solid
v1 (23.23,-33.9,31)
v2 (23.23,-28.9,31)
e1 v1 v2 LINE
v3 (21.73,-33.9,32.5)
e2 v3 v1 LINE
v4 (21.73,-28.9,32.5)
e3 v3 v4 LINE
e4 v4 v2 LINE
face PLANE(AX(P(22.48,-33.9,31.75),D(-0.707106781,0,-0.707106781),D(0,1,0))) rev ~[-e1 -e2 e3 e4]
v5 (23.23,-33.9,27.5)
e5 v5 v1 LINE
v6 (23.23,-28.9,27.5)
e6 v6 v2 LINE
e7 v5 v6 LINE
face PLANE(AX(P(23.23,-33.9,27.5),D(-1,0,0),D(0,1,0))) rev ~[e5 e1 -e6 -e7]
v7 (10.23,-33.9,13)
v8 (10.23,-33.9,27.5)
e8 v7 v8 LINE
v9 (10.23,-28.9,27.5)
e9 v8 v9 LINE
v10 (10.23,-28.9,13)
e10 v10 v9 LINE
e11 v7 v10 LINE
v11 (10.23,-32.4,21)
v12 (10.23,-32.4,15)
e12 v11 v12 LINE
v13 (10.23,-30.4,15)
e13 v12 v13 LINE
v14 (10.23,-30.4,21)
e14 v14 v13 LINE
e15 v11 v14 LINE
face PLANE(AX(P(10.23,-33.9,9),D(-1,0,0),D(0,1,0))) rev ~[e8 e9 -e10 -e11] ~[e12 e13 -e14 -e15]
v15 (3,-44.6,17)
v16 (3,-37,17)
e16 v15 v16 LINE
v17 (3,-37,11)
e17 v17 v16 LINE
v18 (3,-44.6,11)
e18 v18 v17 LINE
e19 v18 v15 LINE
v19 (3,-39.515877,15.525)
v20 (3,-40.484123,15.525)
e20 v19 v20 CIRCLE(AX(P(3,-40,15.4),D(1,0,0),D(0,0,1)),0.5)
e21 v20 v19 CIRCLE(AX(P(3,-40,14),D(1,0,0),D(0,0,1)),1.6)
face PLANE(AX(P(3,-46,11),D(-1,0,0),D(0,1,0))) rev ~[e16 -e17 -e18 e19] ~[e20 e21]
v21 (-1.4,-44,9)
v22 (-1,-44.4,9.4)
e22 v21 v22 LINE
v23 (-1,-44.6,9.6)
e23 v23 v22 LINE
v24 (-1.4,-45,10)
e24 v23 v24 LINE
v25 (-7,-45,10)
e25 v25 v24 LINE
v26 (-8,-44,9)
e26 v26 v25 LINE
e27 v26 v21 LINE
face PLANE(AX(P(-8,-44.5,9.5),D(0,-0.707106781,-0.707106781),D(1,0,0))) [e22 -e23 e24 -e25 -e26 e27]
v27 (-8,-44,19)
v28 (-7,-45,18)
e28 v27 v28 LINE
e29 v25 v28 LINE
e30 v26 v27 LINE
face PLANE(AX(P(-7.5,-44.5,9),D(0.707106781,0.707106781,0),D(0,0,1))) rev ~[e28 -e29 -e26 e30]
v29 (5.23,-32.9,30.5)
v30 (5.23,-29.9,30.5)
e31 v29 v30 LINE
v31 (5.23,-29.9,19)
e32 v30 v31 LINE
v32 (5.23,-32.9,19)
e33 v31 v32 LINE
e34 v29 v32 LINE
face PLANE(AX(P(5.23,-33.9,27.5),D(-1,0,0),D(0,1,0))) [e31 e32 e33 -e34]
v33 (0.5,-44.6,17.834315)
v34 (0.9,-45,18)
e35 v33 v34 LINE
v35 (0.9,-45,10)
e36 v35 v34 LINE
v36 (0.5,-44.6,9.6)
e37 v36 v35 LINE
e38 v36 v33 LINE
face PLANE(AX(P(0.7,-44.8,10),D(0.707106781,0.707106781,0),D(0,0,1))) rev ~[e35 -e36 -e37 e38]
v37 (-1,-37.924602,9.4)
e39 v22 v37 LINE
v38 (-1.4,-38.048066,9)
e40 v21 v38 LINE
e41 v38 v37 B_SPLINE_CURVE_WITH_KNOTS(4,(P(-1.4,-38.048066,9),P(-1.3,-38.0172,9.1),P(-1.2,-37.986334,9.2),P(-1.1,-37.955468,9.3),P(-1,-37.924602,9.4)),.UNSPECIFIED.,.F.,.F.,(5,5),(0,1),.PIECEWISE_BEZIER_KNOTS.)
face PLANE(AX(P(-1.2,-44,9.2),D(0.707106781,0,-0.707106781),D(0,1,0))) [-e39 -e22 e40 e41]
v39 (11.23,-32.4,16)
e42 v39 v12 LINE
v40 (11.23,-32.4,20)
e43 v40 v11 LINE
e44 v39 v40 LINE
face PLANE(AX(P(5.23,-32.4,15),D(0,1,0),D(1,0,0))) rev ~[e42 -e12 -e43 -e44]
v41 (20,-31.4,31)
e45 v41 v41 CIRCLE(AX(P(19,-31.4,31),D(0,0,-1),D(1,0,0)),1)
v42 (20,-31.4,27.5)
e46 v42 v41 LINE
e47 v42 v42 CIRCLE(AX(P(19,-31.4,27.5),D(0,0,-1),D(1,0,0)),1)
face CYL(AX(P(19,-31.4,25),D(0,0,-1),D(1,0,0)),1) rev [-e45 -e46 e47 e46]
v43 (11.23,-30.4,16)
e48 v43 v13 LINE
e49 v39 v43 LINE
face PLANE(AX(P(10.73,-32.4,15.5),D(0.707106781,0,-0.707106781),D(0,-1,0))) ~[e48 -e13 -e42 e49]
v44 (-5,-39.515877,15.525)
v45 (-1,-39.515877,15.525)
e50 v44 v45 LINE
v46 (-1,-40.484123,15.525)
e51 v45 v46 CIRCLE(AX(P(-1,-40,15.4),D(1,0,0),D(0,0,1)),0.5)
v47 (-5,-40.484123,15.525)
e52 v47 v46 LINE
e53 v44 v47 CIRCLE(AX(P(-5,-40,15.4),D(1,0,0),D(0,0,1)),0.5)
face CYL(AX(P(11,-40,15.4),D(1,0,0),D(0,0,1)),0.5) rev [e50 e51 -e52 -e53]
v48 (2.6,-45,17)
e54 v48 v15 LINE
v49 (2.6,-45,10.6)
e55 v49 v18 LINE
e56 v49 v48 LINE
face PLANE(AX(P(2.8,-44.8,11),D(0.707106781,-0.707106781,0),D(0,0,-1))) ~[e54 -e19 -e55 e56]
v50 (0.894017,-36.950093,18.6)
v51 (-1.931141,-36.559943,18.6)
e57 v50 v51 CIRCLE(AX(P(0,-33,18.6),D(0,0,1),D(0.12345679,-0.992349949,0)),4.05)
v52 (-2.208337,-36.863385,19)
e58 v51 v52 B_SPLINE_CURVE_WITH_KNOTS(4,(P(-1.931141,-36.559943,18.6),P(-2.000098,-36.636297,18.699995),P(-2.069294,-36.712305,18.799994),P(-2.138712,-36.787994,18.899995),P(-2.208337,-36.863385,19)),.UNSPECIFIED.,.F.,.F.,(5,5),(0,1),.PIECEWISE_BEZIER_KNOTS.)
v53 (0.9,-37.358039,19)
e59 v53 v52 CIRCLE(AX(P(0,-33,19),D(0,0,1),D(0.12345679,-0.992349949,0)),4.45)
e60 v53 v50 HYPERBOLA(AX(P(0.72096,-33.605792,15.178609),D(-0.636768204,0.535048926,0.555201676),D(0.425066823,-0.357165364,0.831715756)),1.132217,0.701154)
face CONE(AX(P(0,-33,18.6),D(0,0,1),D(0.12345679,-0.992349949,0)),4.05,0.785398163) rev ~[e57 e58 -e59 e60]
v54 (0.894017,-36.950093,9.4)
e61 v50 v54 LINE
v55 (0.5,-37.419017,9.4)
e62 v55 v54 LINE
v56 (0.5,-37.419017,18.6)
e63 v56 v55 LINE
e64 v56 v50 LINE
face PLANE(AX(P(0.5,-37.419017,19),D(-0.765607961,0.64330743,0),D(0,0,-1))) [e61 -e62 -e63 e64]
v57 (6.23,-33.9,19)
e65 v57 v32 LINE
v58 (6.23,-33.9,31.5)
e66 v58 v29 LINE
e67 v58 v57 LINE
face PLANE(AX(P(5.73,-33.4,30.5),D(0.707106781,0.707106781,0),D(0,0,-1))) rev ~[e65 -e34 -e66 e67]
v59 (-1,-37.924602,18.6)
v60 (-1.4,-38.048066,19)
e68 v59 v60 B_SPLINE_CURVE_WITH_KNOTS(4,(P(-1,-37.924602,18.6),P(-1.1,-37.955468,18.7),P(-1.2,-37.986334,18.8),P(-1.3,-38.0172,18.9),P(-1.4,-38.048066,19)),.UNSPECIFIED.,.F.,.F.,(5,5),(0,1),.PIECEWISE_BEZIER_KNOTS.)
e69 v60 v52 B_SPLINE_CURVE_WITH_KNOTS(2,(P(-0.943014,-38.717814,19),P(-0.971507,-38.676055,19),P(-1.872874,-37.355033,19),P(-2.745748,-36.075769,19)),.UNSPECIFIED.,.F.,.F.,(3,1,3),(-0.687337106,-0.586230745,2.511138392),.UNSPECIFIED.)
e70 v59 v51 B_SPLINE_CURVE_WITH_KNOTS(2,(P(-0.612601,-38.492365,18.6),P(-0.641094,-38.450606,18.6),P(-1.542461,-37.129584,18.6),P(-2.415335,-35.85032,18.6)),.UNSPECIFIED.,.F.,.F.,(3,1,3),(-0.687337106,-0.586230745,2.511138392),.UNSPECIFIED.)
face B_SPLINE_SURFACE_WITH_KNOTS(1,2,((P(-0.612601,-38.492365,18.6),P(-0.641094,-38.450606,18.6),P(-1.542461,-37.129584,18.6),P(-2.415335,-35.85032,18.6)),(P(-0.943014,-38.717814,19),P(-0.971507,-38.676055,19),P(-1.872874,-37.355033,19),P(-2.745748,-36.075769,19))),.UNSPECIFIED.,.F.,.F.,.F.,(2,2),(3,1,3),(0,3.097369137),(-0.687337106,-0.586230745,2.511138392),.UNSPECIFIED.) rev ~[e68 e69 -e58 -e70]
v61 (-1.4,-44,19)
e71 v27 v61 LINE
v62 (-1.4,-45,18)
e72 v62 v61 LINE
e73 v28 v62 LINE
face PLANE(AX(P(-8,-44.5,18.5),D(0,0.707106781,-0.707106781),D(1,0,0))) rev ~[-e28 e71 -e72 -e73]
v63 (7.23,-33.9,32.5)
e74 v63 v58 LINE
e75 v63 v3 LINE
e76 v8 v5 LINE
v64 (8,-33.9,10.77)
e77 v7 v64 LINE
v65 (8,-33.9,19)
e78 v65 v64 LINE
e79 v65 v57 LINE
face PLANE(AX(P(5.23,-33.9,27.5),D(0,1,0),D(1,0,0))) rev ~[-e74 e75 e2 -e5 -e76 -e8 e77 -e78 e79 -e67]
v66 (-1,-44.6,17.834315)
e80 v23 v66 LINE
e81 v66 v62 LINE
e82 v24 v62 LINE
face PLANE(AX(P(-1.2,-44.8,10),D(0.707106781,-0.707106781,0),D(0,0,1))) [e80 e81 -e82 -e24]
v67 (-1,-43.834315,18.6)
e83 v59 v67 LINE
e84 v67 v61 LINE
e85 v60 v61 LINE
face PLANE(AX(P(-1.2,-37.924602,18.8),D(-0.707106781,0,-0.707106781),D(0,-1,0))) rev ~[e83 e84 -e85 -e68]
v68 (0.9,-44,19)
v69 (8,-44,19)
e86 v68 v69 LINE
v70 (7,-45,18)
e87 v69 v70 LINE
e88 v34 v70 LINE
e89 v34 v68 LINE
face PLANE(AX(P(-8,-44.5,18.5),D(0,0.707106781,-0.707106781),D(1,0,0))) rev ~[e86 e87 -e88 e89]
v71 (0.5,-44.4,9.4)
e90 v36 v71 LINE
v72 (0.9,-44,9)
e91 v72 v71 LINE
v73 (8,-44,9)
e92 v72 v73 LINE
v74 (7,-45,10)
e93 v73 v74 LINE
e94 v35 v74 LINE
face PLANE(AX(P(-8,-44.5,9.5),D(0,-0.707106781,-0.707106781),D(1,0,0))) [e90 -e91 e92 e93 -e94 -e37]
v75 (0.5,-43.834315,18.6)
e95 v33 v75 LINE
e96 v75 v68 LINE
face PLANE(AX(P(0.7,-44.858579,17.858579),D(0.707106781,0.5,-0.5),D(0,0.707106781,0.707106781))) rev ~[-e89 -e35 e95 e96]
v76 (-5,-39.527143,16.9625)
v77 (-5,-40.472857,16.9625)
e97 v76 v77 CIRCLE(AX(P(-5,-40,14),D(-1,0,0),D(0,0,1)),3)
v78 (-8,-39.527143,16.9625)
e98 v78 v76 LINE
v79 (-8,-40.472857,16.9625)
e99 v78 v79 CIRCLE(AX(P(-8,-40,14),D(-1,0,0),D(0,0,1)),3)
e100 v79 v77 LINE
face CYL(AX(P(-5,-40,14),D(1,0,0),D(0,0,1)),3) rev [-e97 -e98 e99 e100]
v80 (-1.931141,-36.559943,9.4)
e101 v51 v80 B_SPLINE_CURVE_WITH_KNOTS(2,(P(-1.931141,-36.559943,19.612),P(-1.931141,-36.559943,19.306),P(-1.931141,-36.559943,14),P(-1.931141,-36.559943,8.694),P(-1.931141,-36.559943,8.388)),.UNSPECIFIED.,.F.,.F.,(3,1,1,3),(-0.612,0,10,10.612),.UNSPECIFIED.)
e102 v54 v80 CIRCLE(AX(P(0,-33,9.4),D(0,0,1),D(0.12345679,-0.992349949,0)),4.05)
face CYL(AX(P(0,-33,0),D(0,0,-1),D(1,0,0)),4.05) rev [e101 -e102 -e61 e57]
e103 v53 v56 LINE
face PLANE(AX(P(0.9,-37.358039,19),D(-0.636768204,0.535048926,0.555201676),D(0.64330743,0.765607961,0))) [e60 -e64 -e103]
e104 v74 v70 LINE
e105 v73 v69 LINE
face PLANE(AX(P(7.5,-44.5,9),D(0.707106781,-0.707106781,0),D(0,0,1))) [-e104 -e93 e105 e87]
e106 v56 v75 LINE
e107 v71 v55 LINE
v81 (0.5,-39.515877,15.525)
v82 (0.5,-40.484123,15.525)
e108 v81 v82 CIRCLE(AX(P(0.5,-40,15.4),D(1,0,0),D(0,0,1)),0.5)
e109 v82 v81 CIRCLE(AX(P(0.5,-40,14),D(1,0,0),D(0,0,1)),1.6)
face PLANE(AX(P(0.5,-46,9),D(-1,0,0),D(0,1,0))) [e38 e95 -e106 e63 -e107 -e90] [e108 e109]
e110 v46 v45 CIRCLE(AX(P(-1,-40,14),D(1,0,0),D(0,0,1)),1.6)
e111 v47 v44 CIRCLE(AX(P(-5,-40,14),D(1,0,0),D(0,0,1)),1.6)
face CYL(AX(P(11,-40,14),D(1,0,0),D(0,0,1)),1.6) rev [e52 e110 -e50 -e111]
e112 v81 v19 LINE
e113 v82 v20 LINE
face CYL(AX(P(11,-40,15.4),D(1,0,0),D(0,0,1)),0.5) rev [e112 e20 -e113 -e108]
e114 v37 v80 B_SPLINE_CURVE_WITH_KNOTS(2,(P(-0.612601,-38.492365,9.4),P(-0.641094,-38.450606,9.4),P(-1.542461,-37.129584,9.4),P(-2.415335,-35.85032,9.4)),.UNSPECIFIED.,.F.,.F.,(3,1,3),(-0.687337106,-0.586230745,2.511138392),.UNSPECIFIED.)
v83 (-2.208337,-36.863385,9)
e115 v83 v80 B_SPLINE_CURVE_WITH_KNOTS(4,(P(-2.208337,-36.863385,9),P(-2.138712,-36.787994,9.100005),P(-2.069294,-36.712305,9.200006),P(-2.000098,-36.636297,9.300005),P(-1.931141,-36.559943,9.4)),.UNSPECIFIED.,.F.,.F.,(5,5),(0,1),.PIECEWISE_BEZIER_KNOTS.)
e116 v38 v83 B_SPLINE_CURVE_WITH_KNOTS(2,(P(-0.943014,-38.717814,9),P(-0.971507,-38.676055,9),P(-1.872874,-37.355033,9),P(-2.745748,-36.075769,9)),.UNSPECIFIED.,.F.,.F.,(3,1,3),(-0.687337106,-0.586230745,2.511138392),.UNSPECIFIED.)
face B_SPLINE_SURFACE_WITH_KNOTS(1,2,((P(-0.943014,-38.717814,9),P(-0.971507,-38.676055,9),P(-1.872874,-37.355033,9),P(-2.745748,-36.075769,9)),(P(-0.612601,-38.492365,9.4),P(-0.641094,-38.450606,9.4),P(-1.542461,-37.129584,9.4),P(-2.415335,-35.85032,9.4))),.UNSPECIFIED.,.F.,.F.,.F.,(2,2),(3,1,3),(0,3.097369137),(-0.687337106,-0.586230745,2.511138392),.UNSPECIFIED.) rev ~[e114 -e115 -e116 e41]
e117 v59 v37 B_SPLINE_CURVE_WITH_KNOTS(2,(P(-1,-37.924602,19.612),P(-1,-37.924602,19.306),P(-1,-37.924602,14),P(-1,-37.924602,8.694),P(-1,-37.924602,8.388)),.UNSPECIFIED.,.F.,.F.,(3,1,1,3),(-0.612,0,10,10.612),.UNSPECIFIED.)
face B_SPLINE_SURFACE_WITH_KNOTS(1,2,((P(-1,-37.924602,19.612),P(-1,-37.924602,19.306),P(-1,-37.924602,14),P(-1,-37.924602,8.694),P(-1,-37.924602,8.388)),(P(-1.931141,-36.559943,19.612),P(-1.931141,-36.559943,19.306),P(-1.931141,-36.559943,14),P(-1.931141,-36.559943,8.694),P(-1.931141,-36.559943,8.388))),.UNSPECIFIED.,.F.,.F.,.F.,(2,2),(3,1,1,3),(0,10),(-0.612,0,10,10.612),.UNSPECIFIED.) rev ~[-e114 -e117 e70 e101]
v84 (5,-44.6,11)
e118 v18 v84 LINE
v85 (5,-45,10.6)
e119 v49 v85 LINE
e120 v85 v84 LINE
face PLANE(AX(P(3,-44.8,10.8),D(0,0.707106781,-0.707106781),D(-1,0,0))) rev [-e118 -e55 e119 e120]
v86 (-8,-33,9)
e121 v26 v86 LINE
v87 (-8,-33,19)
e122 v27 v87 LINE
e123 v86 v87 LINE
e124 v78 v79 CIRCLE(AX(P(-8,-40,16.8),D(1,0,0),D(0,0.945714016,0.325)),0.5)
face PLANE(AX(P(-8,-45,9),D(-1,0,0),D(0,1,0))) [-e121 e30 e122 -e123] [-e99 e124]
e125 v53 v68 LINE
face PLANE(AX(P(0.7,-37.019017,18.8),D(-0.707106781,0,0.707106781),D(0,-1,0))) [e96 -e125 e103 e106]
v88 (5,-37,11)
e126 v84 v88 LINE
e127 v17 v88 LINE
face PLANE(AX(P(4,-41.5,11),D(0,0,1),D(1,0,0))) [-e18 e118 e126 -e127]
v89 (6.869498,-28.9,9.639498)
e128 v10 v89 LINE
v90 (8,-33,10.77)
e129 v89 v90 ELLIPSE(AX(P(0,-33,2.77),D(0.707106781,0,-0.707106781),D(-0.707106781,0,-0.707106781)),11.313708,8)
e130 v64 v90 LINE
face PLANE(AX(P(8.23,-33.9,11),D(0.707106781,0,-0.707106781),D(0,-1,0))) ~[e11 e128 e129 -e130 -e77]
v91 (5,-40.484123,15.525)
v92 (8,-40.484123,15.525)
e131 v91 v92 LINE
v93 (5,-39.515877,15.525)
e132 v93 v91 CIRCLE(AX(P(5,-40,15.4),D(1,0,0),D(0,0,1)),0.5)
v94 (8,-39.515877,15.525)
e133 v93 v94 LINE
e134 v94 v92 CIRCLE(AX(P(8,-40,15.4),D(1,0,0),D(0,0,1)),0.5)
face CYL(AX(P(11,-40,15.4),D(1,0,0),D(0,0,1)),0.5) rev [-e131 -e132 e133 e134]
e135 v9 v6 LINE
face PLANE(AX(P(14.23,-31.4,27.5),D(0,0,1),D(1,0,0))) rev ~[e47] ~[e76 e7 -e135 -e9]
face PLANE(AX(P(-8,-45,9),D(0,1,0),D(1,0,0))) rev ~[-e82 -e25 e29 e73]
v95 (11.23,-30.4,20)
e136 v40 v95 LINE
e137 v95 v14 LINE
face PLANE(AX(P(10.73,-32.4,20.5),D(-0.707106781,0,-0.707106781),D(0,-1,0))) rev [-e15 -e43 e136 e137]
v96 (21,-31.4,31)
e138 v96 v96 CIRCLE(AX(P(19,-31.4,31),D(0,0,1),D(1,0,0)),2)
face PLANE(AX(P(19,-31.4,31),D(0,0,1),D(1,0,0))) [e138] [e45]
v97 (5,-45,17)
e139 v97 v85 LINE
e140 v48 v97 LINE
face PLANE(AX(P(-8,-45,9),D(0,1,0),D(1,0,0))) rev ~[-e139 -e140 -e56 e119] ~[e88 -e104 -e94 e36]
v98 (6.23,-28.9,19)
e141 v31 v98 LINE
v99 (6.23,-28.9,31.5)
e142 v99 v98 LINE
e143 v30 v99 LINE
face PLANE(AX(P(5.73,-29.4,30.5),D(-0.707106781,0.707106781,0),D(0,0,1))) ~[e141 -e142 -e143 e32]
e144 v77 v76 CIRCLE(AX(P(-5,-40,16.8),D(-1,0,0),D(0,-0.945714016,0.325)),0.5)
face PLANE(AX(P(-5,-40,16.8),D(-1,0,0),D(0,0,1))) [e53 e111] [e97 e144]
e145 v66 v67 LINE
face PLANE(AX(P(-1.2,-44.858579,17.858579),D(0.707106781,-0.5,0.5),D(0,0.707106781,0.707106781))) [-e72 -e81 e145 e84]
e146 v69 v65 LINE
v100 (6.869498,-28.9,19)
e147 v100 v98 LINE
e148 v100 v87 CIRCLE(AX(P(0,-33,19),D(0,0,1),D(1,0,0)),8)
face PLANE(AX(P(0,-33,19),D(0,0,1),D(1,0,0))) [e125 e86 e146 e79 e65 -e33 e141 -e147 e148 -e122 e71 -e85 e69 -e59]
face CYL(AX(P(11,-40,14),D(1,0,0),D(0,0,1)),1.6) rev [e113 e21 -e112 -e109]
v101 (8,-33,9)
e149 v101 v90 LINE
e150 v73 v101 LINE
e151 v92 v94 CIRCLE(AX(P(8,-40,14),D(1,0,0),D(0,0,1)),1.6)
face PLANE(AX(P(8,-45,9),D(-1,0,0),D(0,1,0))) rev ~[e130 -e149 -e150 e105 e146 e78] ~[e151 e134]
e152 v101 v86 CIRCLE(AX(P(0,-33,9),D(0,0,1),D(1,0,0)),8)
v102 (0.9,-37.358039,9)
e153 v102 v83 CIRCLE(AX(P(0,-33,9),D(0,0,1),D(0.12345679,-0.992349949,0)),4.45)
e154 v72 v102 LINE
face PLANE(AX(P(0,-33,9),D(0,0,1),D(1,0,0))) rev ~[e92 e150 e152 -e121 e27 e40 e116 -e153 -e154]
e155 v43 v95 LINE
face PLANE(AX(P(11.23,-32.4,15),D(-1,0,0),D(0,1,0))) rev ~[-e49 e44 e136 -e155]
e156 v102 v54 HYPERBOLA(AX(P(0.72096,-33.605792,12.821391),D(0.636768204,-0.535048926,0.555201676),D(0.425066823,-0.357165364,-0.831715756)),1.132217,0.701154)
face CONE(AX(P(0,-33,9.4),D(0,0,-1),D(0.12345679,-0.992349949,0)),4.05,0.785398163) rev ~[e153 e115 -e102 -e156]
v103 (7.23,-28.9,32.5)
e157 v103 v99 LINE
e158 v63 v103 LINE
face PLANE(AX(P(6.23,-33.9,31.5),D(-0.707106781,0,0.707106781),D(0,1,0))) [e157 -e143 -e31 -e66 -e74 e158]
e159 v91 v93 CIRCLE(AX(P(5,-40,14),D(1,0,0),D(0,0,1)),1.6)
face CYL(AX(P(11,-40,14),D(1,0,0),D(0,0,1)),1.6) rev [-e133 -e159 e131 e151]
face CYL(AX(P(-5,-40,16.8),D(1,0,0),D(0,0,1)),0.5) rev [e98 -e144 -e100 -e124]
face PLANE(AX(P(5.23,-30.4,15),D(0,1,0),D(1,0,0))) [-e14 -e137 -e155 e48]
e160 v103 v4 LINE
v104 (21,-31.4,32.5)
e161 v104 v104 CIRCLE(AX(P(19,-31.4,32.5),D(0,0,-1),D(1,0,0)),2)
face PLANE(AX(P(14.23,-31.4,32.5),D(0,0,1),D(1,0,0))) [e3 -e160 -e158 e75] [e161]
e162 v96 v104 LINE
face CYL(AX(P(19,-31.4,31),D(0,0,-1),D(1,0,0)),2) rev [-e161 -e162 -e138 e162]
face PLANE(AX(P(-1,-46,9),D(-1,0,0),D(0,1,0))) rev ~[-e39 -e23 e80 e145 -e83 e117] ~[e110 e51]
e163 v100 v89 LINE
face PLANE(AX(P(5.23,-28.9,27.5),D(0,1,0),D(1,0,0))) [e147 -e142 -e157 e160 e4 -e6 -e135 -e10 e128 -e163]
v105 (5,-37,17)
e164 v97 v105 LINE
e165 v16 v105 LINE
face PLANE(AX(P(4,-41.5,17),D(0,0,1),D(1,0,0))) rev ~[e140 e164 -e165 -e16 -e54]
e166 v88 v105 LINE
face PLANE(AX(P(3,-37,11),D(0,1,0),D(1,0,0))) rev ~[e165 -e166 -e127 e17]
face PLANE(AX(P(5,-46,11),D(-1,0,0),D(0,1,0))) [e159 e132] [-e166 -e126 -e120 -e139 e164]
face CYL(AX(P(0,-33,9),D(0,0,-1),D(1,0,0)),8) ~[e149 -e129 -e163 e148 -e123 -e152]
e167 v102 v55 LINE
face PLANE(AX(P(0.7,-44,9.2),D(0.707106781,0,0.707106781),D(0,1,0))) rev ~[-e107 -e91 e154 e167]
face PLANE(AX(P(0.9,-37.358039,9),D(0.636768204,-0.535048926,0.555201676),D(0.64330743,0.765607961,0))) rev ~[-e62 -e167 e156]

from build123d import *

# Parameters (mm, degrees)
BOX025014011_W        = 6
BOX025014011_H        = 2
BOX025014011_DEPTH    = 6
CHAMFER009008018_SIZE = 1
CYLINDER027_R         = 2
CYLINDER027_DEPTH     = 2
CYLINDER026_R         = 1
CYLINDER026_DEPTH     = 14
BOX025014014_W        = 18
BOX025014014_H        = 5
BOX025014014_DEPTH    = 5
CHAMFER009008025_SIZE = 1.5
CHAMFER009008026_SIZE = 2
BOX025014013_W        = 5
BOX025014013_H        = 5
BOX025014013_DEPTH    = 19
CHAMFER009008024_SIZE = 4
CHAMFER009008027_SIZE = 1
BOX025014010_W        = 2
BOX025014010_H        = 9
BOX025014010_DEPTH    = 6
BOX025014004_W        = 1.5
BOX025014004_H        = 12
BOX025014004_DEPTH    = 11
CYLINDER028_R         = 4.05
CYLINDER028_DEPTH     = 19
CYLINDER023_R         = 0.5
CYLINDER023_DEPTH     = 20
CYLINDER021_R         = 1.6
CYLINDER021_DEPTH     = 20
CYLINDER022_R         = 0.5
CYLINDER022_DEPTH     = 3
CYLINDER024_R         = 3
CYLINDER024_DEPTH     = 3
CYLINDER020_R         = 4
CYLINDER020_DEPTH     = 10
CYLINDER019_R         = 8
CYLINDER019_DEPTH     = 10
BOX025014003_W        = 16
BOX025014003_H        = 12
BOX025014003_DEPTH    = 10
CHAMFER009008028_SIZE = 1
CHAMFER009008029_SIZE = 1
CHAMFER009008030_SIZE = 0.4


with BuildPart() as chamfer009008018:
    # Box025014011 → Box025014011 (new body)
    with BuildSketch(Plane(origin=(5.23, -32.4, 15), x_dir=(1, 0, 0), z_dir=(0, 0, 1))):
        with Locations((3, 1)):
            Rectangle(BOX025014011_W, BOX025014011_H)
    extrude(amount=BOX025014011_DEPTH)

    # Chamfer009008018
    chamfer009008018_edges = [chamfer009008018.edges().sort_by_distance(p)[0] for p in [
        (11.23, -31.4, 21),
        (11.23, -31.4, 15),
    ]]
    chamfer(chamfer009008018_edges, length=CHAMFER009008018_SIZE)


with BuildPart() as cylinder027:
    # Cylinder027 → Cylinder027 (new body)
    with BuildSketch(Plane(origin=(19, -31.4, 31), x_dir=(1, 0, 0), z_dir=(0, 0, 1))):
        Circle(CYLINDER027_R)
    extrude(amount=CYLINDER027_DEPTH)


with BuildPart() as cylinder026:
    # Cylinder026 → Cylinder026 (new body)
    with BuildSketch(Plane(origin=(19, -31.4, 25), x_dir=(1, 0, 0), z_dir=(0, 0, 1))):
        Circle(CYLINDER026_R)
    extrude(amount=CYLINDER026_DEPTH)


with BuildPart() as cut007002001007029003046003:
    # Box025014014 → Box025014014 (new body)
    with BuildSketch(Plane(origin=(5.23, -33.9, 27.5), x_dir=(1, 0, 0), z_dir=(0, 0, 1))):
        with Locations((9, 2.5)):
            Rectangle(BOX025014014_W, BOX025014014_H)
    extrude(amount=BOX025014014_DEPTH)

    # Cut007002001007029003046002: cut Cylinder026
    add(cylinder026.part, mode=Mode.SUBTRACT)

    # Chamfer009008025
    chamfer009008025_edges = [cut007002001007029003046003.edges().sort_by_distance(p)[0] for p in [
        (23.23, -31.4, 32.5),
    ]]
    chamfer(chamfer009008025_edges, length=CHAMFER009008025_SIZE)

    # Chamfer009008026
    chamfer009008026_edges = [cut007002001007029003046003.edges().sort_by_distance(p)[0] for p in [
        (5.23, -31.4, 32.5),
    ]]
    chamfer(chamfer009008026_edges, length=CHAMFER009008026_SIZE)

    # Cut007002001007029003046003: cut Cylinder027
    add(cylinder027.part, mode=Mode.SUBTRACT)


with BuildPart() as chamfer009008027:
    # Box025014013 → Box025014013 (new body)
    with BuildSketch(Plane(origin=(5.23, -33.9, 9), x_dir=(1, 0, 0), z_dir=(0, 0, 1))):
        with Locations((2.5, 2.5)):
            Rectangle(BOX025014013_W, BOX025014013_H)
    extrude(amount=BOX025014013_DEPTH)

    # Chamfer009008024
    chamfer009008024_edges = [chamfer009008027.edges().sort_by_distance(p)[0] for p in [
        (10.23, -31.4, 9),
    ]]
    chamfer(chamfer009008024_edges, length=CHAMFER009008024_SIZE)

    # Fusion010020009006: union Chamfer009008018, Cut007002001007029003046003
    add(chamfer009008018.part)
    add(cut007002001007029003046003.part)

    # Chamfer009008027
    chamfer009008027_edges = [chamfer009008027.edges().sort_by_distance(p)[0] for p in [
        (5.23, -33.9, 18.25),
        (5.23, -28.9, 18.25),
    ]]
    chamfer(chamfer009008027_edges, length=CHAMFER009008027_SIZE)


with BuildPart() as cube054:
    # Box025014010 → Box025014010 (new body)
    with BuildSketch(Plane(origin=(3, -46, 11), x_dir=(1, 0, 0), z_dir=(0, 0, 1))):
        with Locations((1, 4.5)):
            Rectangle(BOX025014010_W, BOX025014010_H)
    extrude(amount=BOX025014010_DEPTH)


with BuildPart() as cube048:
    # Box025014004 → Box025014004 (new body)
    with BuildSketch(Plane(origin=(-1, -46, 9), x_dir=(1, 0, 0), z_dir=(0, 0, 1))):
        with Locations((0.75, 6)):
            Rectangle(BOX025014004_W, BOX025014004_H)
    extrude(amount=BOX025014004_DEPTH)


with BuildPart() as cylinder028:
    # Cylinder028 → Cylinder028 (new body)
    with BuildSketch(Plane(origin=(0, -33, 0), x_dir=(1, 0, 0), z_dir=(0, 0, 1))):
        Circle(CYLINDER028_R)
    extrude(amount=CYLINDER028_DEPTH)


with BuildPart() as cylinder023:
    # Cylinder023 → Cylinder023 (new body)
    with BuildSketch(Plane(origin=(11, -40, 16.4), x_dir=(0, 0, 1), z_dir=(-1, 0, 0))):
        Circle(CYLINDER023_R)
    extrude(amount=CYLINDER023_DEPTH)


with BuildPart() as fusion010020009005:
    # Cylinder021 → Cylinder021 (new body)
    with BuildSketch(Plane(origin=(11, -40, 15), x_dir=(0, 0, 1), z_dir=(-1, 0, 0))):
        Circle(CYLINDER021_R)
    extrude(amount=CYLINDER021_DEPTH)

    # Fusion010020009005: union Cylinder023
    add(cylinder023.part)


with BuildPart() as fusion010020009005_1:
    # Fusion010020009005 placement: moved
    add(fusion010020009005.part.moved(Location((0, 0, -1))))


with BuildPart() as cylinder022:
    # Cylinder022 → Cylinder022 (new body)
    with BuildSketch(Plane(origin=(-5, -40, 17.8), x_dir=(0, 0, 1), z_dir=(-1, 0, 0))):
        Circle(CYLINDER022_R)
    extrude(amount=CYLINDER022_DEPTH)


with BuildPart() as fusion010020009007005:
    # Cylinder024 → Cylinder024 (new body)
    with BuildSketch(Plane(origin=(-5, -40, 15), x_dir=(0, 0, 1), z_dir=(-1, 0, 0))):
        Circle(CYLINDER024_R)
    extrude(amount=CYLINDER024_DEPTH)

    # Fusion010020009004: union Cylinder022
    add(cylinder022.part)


with BuildPart() as fusion010020009007005_1:
    # Fusion010020009004 placement: moved
    add(fusion010020009007005.part.moved(Location((0, 0, -1))))

    # Fusion010020009007005: union Fusion010020009005
    add(fusion010020009005_1.part)


with BuildPart() as cylinder020:
    # Cylinder020 → Cylinder020 (new body)
    with BuildSketch(Plane(origin=(0, -33, 9), x_dir=(1, 0, 0), z_dir=(0, 0, 1))):
        Circle(CYLINDER020_R)
    extrude(amount=CYLINDER020_DEPTH)


with BuildPart() as cylinder019:
    # Cylinder019 → Cylinder019 (new body)
    with BuildSketch(Plane(origin=(0, -33, 10), x_dir=(1, 0, 0), z_dir=(0, 0, 1))):
        Circle(CYLINDER019_R)
    extrude(amount=CYLINDER019_DEPTH)


with BuildPart() as probe_mount_rev2:
    # Box025014003 → Box025014003 (new body)
    with BuildSketch(Plane(origin=(-8, -45, 10), x_dir=(1, 0, 0), z_dir=(0, 0, 1))):
        with Locations((8, 6)):
            Rectangle(BOX025014003_W, BOX025014003_H)
    extrude(amount=BOX025014003_DEPTH)

    # Fusion010020009003: union Cylinder019
    add(cylinder019.part)


with BuildPart() as probe_mount_rev2_1:
    # Fusion010020009003 placement: moved
    add(probe_mount_rev2.part.moved(Location((0, 0, -1))))

    # Cut007002001007029003046004: cut Cylinder020
    add(cylinder020.part, mode=Mode.SUBTRACT)

    # Cut007002001007029003046005: cut Fusion010020009007005
    add(fusion010020009007005_1.part, mode=Mode.SUBTRACT)

    # Chamfer009008028
    chamfer009008028_edges = [probe_mount_rev2_1.edges().sort_by_distance(p)[0] for p in [
        (-8, -45, 14),
        (0, -45, 9),
        (8, -45, 14),
        (0, -45, 19),
    ]]
    chamfer(chamfer009008028_edges, length=CHAMFER009008028_SIZE)

    # Cut007002001007029003046006: cut Cylinder028
    add(cylinder028.part, mode=Mode.SUBTRACT)

    # Cut007002001007029003046007: cut Cube048
    add(cube048.part, mode=Mode.SUBTRACT)

    # Cut007002001007029003046008: cut Cube054
    add(cube054.part, mode=Mode.SUBTRACT)

    # Chamfer009008029
    chamfer009008029_edges = [probe_mount_rev2_1.edges().sort_by_distance(p)[0] for p in [
        (-1, -36.924602, 14),
    ]]
    chamfer(chamfer009008029_edges, length=CHAMFER009008029_SIZE)

    # Chamfer009008030
    chamfer009008030_edges = [probe_mount_rev2_1.edges().sort_by_distance(p)[0] for p in [
        (-1, -39.430928, 19),
        (-1.465571, -37.242272, 19),
        (-3.480203, -35.071398, 19),
        (-1, -42.468627, 19),
        (-1, -39.430928, 9),
        (-1, -44.5, 18.5),
        (-1, -42.468627, 9),
        (-1, -45, 14),
        (-1.465571, -37.242272, 9),
        (0, -28.95, 19),
        (-3.480203, -35.071398, 9),
        (0, -28.95, 9),
        (3.035416, -35.681184, 9),
        (0.5, -37.019017, 14),
        (3.035416, -35.681184, 19),
        (0.5, -39.001689, 19),
        (0.5, -39.001689, 9),
        (0.5, -45, 14),
        (0.5, -44.5, 18.5),
        (0.5, -42.49218, 19),
        (0.5, -42.49218, 9),
        (4, -45, 11),
        (3, -45, 14),
    ]]
    chamfer(chamfer009008030_edges, length=CHAMFER009008030_SIZE)

    # Fusion010020009007006003: union Chamfer009008027
    add(chamfer009008027.part)


solid = probe_mount_rev2_1.part
